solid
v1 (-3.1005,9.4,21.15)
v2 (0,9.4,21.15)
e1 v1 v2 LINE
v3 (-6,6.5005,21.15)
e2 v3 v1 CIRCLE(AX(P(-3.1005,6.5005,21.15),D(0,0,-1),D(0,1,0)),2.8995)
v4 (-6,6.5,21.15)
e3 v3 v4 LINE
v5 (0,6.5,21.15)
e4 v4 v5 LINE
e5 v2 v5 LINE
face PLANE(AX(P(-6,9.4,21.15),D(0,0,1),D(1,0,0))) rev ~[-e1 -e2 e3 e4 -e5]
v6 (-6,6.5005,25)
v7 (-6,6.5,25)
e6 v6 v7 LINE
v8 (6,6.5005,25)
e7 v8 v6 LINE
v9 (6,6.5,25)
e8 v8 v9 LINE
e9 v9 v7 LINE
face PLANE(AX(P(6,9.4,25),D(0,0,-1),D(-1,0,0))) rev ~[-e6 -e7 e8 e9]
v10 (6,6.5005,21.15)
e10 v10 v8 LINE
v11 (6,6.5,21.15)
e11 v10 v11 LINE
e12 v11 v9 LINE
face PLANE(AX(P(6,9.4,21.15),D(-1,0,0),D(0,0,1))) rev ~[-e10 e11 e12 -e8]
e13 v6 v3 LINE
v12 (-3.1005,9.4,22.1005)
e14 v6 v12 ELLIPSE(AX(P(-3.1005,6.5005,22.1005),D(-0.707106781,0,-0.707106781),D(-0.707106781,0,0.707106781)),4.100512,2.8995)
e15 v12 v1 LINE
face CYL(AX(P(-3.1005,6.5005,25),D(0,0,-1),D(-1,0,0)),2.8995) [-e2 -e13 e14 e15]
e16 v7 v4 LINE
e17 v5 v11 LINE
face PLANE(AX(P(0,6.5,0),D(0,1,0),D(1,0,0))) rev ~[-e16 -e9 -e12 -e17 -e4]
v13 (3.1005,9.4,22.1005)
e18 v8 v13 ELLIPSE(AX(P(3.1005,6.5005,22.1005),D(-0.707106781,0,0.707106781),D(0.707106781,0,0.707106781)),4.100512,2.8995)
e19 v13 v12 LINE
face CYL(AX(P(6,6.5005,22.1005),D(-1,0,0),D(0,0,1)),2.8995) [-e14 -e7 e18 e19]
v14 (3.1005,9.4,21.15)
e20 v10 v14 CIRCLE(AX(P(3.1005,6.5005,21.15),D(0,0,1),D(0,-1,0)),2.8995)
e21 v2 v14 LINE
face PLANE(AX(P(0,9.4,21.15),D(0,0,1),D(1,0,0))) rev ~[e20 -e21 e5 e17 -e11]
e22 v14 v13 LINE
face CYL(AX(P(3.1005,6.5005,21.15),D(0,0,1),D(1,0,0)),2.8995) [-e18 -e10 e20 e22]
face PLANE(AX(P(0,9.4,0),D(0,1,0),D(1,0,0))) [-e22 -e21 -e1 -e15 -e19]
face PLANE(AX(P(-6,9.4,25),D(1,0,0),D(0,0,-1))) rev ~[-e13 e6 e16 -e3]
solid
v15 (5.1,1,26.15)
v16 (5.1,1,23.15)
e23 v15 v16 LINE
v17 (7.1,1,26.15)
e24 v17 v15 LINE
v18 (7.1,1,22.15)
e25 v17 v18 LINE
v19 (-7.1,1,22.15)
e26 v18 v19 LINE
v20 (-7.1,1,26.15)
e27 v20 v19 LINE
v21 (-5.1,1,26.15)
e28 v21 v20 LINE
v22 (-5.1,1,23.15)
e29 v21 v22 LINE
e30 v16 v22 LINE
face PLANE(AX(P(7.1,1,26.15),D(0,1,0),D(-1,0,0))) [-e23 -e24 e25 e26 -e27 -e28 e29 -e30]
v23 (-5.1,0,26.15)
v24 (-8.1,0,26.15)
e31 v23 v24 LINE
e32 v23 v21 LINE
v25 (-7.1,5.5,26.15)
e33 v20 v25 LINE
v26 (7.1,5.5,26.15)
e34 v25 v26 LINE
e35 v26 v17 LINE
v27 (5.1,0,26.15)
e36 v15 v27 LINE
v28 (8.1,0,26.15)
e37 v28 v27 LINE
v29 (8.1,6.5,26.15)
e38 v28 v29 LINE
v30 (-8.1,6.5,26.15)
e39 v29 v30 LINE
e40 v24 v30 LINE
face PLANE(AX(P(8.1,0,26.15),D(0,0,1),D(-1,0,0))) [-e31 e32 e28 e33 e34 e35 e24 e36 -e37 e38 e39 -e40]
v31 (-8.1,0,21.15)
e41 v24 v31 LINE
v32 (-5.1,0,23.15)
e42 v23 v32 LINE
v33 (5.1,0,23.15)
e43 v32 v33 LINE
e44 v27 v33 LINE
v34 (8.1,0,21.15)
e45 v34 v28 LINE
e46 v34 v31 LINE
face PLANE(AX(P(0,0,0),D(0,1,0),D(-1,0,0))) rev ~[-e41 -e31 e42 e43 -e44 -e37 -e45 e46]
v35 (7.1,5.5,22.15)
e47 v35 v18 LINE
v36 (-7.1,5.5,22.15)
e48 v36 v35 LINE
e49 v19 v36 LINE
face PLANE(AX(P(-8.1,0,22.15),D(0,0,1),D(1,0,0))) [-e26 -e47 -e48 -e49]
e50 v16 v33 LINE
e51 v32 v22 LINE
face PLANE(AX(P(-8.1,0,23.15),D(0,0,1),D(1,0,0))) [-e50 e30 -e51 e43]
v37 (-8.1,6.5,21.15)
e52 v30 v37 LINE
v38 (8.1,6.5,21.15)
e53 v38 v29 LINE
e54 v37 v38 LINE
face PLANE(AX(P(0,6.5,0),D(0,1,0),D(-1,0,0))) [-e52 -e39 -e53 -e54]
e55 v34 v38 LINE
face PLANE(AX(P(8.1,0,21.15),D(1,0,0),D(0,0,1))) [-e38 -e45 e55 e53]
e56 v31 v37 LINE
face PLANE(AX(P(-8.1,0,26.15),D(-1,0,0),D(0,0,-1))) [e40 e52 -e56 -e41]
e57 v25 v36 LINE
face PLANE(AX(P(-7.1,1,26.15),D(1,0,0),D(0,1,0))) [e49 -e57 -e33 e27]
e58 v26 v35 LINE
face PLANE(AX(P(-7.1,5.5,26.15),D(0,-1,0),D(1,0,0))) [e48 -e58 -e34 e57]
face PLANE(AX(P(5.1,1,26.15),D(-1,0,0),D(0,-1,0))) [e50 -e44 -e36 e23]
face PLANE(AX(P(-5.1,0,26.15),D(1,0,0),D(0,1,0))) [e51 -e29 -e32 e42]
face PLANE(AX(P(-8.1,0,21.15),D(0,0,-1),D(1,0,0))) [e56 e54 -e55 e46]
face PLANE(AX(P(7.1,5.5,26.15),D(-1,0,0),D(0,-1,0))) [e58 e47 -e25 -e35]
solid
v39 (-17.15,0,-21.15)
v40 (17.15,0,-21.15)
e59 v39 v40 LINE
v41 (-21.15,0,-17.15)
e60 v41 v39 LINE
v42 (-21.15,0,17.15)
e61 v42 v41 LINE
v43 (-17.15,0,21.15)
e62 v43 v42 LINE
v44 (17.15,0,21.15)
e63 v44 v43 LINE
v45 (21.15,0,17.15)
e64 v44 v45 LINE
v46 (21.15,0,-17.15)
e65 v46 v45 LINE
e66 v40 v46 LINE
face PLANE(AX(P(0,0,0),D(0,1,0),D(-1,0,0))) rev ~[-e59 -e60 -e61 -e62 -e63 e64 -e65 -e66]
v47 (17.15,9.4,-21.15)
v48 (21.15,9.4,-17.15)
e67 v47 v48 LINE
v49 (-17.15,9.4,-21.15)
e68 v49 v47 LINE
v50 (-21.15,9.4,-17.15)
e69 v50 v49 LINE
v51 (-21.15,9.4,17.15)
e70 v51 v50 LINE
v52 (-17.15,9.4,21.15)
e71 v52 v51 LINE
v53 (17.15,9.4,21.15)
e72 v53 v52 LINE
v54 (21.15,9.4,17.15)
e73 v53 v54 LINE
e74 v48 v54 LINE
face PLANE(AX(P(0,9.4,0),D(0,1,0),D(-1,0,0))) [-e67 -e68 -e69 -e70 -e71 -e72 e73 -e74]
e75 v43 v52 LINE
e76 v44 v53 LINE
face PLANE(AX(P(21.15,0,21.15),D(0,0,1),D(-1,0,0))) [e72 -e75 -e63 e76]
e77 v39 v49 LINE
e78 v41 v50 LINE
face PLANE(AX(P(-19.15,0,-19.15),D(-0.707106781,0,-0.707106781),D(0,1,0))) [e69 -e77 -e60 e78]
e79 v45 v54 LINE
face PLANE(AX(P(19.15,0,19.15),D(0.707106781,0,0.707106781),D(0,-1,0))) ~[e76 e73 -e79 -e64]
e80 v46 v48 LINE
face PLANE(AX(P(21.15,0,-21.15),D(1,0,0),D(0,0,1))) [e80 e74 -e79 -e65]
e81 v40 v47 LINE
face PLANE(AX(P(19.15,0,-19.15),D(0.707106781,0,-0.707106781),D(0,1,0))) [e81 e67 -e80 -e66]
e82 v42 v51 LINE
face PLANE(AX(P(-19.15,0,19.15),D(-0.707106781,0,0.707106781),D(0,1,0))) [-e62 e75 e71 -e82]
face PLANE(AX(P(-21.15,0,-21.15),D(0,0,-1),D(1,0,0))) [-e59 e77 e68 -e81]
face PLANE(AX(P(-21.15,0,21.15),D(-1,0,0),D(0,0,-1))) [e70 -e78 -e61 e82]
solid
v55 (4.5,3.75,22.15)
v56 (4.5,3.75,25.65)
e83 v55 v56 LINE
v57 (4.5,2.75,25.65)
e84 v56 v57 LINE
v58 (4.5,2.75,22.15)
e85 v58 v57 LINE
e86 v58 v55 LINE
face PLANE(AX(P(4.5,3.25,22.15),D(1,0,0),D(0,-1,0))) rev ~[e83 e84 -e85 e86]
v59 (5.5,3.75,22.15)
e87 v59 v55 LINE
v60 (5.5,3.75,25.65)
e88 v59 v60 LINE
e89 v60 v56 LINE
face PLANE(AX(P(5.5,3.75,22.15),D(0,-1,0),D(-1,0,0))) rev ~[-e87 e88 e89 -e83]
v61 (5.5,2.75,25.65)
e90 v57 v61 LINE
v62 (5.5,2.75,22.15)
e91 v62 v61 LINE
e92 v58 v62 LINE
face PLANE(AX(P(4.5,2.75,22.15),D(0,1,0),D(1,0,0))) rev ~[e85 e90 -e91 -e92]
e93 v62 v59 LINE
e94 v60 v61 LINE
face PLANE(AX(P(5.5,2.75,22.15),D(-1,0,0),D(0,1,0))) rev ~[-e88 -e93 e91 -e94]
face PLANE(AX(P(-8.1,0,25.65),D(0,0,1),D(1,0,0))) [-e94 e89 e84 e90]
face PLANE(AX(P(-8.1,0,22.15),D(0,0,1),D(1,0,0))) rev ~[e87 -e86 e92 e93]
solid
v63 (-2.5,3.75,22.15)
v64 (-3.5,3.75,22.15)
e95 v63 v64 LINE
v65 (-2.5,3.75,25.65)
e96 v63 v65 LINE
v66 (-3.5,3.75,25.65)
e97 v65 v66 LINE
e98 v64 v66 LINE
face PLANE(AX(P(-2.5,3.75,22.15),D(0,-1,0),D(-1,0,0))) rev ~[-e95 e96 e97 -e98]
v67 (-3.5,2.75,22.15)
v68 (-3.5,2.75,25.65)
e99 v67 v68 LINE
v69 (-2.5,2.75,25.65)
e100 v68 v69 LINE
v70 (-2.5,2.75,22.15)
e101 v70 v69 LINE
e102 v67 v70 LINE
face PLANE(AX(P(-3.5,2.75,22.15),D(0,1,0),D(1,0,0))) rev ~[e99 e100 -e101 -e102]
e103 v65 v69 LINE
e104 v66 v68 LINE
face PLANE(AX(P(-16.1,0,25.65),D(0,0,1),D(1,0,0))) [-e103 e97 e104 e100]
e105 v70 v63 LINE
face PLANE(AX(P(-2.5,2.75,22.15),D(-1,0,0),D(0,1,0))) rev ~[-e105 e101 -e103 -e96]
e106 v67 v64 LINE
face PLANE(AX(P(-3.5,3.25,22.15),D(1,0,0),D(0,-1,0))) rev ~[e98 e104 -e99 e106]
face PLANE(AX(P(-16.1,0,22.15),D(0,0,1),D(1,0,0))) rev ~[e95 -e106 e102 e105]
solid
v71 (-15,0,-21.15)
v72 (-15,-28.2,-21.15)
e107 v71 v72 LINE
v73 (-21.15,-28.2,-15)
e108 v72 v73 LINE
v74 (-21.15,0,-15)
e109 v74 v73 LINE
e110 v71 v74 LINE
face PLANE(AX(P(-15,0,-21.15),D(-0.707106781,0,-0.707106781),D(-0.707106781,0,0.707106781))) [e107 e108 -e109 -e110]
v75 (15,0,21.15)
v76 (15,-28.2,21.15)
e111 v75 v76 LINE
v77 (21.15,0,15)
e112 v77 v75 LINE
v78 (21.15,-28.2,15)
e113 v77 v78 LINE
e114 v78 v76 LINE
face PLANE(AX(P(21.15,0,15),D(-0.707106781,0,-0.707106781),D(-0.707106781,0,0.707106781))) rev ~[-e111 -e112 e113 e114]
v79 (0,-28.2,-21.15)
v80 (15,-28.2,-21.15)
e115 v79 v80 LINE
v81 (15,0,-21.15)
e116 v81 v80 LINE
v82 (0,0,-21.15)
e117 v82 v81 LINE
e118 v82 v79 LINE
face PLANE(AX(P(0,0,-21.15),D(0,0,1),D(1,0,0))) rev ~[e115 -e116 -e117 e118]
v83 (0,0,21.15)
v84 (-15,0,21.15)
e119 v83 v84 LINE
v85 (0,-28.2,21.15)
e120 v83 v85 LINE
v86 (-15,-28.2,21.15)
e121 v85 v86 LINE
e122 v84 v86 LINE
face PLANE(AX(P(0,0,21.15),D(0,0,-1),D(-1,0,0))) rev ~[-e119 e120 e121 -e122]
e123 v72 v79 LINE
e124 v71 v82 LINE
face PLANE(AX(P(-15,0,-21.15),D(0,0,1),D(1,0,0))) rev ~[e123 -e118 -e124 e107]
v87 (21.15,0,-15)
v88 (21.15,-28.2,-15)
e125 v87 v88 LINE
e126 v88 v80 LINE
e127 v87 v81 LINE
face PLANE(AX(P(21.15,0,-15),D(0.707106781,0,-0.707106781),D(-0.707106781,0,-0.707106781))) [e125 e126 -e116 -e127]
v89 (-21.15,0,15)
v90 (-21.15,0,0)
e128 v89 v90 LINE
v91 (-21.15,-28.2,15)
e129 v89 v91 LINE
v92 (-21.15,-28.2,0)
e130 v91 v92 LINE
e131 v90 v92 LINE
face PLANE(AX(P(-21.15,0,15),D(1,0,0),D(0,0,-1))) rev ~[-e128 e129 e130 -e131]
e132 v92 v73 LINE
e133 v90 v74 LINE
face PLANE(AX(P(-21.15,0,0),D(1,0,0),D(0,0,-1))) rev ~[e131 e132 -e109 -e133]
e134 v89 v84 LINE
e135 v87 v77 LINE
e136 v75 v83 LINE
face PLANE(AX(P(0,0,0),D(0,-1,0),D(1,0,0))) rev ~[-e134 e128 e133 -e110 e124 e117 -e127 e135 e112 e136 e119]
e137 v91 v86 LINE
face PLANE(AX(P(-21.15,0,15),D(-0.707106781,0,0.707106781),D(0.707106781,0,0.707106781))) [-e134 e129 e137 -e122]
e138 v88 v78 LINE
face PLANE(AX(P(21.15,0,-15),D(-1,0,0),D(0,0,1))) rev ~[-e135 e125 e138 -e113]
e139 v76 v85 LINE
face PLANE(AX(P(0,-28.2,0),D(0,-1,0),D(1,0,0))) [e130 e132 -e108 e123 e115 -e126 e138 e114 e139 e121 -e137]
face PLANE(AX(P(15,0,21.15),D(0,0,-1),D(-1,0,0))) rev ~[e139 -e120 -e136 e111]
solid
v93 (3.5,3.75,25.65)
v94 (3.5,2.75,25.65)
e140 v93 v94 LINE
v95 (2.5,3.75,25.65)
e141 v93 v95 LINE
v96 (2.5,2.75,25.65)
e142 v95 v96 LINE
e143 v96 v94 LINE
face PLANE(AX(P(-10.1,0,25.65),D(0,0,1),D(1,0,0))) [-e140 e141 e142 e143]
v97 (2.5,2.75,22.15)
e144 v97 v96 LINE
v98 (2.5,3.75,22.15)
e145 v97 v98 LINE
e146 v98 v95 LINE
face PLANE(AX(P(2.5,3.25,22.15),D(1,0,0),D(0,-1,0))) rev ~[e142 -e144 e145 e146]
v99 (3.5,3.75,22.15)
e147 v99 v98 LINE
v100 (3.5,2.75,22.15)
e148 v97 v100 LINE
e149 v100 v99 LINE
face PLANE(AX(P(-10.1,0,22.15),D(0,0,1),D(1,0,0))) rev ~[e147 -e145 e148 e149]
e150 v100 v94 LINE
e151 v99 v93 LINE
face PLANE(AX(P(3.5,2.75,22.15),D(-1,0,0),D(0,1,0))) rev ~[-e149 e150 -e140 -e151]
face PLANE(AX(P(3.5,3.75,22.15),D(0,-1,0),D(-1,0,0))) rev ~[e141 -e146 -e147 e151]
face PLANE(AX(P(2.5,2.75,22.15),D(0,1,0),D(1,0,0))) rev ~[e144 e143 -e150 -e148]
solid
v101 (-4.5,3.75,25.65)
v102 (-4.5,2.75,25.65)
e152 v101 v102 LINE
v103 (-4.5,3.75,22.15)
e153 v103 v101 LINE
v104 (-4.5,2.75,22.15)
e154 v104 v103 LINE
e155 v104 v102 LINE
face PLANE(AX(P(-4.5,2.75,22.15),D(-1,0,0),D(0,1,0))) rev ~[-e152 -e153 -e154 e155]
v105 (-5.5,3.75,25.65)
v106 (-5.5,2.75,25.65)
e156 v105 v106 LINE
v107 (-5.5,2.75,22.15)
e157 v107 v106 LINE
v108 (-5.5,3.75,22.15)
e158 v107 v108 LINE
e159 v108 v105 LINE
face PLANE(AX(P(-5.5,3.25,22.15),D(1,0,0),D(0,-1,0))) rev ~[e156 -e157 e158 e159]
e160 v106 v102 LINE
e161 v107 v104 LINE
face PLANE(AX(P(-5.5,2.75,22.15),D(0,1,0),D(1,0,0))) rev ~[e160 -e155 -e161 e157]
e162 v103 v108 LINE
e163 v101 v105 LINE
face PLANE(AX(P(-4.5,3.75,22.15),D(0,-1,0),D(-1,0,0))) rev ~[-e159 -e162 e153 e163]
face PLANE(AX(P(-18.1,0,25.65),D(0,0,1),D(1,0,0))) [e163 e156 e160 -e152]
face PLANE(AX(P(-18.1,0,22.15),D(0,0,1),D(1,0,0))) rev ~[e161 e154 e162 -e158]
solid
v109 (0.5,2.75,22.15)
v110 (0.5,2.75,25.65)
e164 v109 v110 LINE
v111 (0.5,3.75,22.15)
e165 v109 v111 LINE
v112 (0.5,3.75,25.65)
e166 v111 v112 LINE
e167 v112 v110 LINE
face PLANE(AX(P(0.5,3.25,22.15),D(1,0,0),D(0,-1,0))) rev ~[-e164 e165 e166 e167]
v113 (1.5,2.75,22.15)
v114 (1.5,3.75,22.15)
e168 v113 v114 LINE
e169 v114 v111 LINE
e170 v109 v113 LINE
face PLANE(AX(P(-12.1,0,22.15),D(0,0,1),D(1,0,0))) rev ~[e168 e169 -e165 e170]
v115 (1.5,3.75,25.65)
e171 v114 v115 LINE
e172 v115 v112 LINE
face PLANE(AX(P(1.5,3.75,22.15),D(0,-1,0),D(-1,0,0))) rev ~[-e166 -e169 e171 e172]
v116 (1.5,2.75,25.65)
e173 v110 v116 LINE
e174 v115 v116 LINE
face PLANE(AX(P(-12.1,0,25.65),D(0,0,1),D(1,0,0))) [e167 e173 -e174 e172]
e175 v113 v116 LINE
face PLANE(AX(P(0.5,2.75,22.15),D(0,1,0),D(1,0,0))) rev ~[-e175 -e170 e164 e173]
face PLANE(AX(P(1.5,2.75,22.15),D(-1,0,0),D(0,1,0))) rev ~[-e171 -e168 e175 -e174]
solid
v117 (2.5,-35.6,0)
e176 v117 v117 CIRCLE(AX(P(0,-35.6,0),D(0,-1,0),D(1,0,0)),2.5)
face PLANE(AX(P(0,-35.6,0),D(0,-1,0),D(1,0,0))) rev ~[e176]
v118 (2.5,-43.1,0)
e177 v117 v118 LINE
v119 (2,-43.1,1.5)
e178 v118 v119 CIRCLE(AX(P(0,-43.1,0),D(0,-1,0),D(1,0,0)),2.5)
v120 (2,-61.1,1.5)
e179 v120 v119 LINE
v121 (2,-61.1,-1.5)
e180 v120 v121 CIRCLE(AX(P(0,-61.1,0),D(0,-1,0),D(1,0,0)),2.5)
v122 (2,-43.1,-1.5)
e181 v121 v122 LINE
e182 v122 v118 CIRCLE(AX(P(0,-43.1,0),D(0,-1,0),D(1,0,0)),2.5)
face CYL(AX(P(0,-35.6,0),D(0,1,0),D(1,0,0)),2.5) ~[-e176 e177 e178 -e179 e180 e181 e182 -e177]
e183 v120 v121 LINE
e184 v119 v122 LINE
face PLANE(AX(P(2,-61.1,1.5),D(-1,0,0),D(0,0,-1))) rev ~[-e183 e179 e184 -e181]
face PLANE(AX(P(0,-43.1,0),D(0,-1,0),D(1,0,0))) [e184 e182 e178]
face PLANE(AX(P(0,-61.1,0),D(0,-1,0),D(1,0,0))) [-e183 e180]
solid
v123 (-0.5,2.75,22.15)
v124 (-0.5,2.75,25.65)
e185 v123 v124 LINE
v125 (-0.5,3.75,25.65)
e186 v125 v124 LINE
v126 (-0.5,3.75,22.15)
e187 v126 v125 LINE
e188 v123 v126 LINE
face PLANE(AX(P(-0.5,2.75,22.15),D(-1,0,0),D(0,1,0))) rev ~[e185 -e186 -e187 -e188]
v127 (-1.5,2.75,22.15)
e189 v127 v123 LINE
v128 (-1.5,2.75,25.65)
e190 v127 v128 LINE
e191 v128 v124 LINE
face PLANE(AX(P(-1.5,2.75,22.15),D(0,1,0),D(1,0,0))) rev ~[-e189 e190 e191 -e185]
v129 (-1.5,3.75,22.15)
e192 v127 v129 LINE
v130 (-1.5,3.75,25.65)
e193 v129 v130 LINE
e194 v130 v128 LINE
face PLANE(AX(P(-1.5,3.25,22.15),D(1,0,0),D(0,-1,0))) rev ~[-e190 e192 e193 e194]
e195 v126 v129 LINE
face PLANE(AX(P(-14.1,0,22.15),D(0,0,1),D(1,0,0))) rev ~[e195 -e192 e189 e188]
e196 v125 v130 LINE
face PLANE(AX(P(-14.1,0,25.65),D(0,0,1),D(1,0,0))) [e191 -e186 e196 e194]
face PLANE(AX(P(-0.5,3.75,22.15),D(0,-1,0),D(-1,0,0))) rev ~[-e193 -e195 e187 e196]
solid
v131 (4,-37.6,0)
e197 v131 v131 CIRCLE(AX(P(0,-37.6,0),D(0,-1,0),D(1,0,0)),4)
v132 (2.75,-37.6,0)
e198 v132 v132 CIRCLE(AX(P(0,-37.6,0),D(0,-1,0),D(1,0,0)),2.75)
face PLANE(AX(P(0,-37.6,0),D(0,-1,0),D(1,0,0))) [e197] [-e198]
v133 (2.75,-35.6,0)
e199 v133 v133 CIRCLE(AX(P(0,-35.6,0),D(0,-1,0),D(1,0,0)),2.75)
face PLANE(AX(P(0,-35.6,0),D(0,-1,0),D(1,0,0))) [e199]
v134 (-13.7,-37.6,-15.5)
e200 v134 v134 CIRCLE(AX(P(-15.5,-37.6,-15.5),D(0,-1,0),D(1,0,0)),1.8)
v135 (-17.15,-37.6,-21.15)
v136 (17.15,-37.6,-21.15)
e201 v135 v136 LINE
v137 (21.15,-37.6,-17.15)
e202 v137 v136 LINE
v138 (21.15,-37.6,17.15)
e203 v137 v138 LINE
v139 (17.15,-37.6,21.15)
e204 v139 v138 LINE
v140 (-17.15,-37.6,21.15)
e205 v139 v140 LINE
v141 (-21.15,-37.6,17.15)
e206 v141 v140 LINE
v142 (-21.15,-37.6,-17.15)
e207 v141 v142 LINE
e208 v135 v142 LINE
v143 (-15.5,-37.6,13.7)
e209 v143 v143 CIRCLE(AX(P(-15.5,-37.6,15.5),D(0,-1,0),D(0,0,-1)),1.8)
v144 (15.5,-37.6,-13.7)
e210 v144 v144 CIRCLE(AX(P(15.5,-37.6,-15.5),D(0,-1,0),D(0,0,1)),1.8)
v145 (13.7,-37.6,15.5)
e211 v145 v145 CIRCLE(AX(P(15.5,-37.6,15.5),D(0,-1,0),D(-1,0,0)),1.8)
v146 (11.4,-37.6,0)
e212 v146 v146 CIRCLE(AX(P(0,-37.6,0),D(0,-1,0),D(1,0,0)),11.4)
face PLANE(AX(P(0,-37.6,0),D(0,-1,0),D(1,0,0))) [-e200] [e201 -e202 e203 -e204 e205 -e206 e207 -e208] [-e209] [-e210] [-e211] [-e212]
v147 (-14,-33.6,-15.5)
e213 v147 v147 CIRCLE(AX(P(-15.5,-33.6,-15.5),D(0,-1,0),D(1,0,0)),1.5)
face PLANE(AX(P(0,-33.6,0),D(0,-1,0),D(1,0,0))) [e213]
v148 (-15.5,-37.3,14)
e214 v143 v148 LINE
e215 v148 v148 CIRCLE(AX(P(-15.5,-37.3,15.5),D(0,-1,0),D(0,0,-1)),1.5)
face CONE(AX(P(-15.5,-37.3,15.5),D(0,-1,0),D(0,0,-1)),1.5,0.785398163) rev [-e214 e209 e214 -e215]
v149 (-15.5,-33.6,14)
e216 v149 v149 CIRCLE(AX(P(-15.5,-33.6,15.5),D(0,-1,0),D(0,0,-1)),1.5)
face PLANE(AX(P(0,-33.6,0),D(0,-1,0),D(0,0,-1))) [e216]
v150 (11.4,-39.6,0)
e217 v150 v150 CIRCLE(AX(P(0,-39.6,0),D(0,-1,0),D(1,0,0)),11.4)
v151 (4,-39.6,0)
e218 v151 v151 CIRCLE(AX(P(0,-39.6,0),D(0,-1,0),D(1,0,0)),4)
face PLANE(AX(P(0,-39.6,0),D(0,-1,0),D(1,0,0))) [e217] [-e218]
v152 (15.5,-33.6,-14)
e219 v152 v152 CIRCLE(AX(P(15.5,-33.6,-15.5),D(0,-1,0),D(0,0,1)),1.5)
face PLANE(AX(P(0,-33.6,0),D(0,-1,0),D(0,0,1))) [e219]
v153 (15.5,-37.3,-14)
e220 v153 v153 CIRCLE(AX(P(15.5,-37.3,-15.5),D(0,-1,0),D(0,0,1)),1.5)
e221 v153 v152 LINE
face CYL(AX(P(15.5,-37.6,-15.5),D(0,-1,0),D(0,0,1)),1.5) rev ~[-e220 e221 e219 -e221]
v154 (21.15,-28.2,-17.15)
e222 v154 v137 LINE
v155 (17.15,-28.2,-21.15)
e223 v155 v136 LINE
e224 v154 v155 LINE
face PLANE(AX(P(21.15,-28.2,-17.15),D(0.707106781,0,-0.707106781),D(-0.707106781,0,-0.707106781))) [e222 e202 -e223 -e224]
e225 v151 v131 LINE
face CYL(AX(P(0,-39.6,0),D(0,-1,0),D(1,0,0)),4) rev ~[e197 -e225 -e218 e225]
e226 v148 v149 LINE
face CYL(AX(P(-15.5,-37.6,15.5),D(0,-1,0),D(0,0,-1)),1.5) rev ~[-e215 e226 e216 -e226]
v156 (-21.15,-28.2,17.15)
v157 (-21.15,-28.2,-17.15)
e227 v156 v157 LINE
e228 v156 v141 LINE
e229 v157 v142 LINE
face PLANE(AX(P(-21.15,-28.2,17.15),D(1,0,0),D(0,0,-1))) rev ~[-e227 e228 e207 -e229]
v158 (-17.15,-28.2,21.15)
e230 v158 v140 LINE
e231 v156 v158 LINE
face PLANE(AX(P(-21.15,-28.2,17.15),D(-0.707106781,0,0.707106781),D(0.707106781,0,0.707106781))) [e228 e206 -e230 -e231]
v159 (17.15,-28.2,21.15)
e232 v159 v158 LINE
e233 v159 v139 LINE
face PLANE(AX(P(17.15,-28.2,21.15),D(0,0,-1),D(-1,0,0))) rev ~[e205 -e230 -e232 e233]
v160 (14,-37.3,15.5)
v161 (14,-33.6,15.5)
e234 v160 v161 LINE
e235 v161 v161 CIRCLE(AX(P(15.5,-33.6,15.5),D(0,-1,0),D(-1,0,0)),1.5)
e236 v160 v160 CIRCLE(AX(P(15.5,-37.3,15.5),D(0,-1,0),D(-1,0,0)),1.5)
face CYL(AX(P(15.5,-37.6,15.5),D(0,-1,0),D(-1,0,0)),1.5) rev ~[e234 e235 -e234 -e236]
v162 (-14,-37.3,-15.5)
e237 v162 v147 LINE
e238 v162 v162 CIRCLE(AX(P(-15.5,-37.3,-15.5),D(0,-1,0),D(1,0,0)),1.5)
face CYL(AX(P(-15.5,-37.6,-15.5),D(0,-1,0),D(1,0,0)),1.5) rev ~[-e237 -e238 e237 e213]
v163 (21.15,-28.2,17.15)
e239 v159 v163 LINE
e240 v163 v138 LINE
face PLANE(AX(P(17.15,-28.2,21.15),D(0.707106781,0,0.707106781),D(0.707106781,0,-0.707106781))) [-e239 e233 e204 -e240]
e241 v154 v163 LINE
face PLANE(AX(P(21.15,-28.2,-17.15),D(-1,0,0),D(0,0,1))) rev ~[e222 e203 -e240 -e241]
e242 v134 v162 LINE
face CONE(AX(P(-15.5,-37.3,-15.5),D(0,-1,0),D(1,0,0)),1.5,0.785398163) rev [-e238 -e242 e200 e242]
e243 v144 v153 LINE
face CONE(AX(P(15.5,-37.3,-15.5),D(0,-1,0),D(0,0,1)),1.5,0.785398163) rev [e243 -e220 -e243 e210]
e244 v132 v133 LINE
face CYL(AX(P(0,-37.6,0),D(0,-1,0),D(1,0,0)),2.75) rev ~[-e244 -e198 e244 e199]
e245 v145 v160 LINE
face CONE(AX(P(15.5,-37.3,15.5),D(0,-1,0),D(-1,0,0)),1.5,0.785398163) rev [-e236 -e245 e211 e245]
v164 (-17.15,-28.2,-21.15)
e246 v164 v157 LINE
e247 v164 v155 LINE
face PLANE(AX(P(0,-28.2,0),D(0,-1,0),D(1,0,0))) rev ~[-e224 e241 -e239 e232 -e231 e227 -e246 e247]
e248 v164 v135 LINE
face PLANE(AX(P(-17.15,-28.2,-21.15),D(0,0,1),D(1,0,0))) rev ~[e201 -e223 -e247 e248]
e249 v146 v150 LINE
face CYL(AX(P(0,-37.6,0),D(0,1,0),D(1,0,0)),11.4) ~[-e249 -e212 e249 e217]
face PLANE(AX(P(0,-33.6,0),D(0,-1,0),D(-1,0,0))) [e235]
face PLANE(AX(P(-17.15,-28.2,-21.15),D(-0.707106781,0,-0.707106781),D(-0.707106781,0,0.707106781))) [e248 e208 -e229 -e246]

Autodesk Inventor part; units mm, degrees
ref_plane "YZ Plane" through (0, 0, 0) normal (1, 0, 0) x (0, 1, 0)
ref_plane "XZ Plane" through (0, 0, 0) normal (0, 1, 0) x (-1, 0, 0)
ref_plane "XY Plane" through (0, 0, 0) normal (0, 0, 1) x (1, 0, 0)
sketch "Szkic1" plane through (0, 0, 0) normal (0, 1, 0) x (-1, 0, 0)
  line L0 (-21.15, 21.15) -> (21.15, 21.15)
  line L1 (21.15, 21.15) -> (21.15, -21.15)
  line L2 (21.15, -21.15) -> (-21.15, -21.15)
  line L3 (-21.15, -21.15) -> (-21.15, 21.15)
  line L4 (-21.15, 21.15) -> (21.15, -21.15) construction
  line L5 (21.15, 21.15) -> (-21.15, -21.15) construction
  point P0 (0, 0)
  dimension "d0" = 42.3
  dimension "d1" = 42.3
extrude "Wyciągnięcie proste1" add sketch "Szkic1" along normal blind 9.4
chamfer "Faza1" distance 4 angle 45 4 edges at (21.15, 4.7, 21.15) (-21.15, 4.7, 21.15) (-21.15, 4.7, -21.15) (21.15, 4.7, -21.15)
sketch "Szkic2" plane through (0, 0, 0) normal (0, -1, 0) x (1, 0, 0)
  line L0 (21.15, -17.15) -> (17.15, -21.15) projected
  line L1 (21.15, -17.15) -> (21.15, 17.15) projected
  line L2 (17.15, 21.15) -> (21.15, 17.15) projected
  line L3 (17.15, 21.15) -> (-17.15, 21.15) projected
  line L4 (-21.15, 17.15) -> (-17.15, 21.15) projected
  line L5 (-21.15, 17.15) -> (-21.15, -17.15) projected
  line L6 (-17.15, -21.15) -> (-21.15, -17.15) projected
  line L7 (-17.15, -21.15) -> (17.15, -21.15) projected
  line L8 (21.15, -17.15) -> (21.15, 17.15) projected
  line L9 (21.15, 15) -> (21.15, -15)
  line L10 (17.15, -21.15) -> (-17.15, -21.15) projected
  line L11 (0, -21.15) -> (15, -21.15)
  line L12 (0, -21.15) -> (-15, -21.15)
  line L13 (-21.15, -17.15) -> (-21.15, 17.15) projected
  line L14 (-21.15, 0) -> (-21.15, -15)
  line L15 (-21.15, 0) -> (-21.15, 15)
  line L16 (-17.15, 21.15) -> (17.15, 21.15) projected
  line L17 (0, 21.15) -> (-15, 21.15)
  line L18 (0, 21.15) -> (15, 21.15)
  line L19 (21.15, 15) -> (15, 21.15)
  line L20 (21.15, -15) -> (15, -21.15)
  line L21 (-15, -21.15) -> (-21.15, -15)
  line L22 (-21.15, 15) -> (-15, 21.15)
  point P0 (0, 0)
extrude "Wyciągnięcie proste2" add sketch "Szkic2" along normal blind 28.2 separate body contours L20 L7 L21 L5 L22 L3 L19 L1
sketch "Szkic3" plane through (0, -28.2, 0) normal (0, -1, 0) x (1, 0, 0)
  line L0 (21.15, -17.15) -> (17.15, -21.15) projected
  line L1 (21.15, -17.15) -> (21.15, 17.15) projected
  line L2 (17.15, 21.15) -> (21.15, 17.15) projected
  line L3 (17.15, 21.15) -> (-17.15, 21.15) projected
  line L4 (-21.15, 17.15) -> (-17.15, 21.15) projected
  line L5 (-21.15, 17.15) -> (-21.15, -17.15) projected
  line L6 (-17.15, -21.15) -> (-21.15, -17.15) projected
  line L7 (-17.15, -21.15) -> (17.15, -21.15) projected
  point P0 (0, 0)
extrude "Wyciągnięcie proste3" add sketch "Szkic3" along normal blind 9.4 separate body
sketch "Szkic4" plane through (0, -37.6, 0) normal (0, -1, 0) x (1, 0, 0)
  circle A0 centre (0, 0) radius 11.4
  dimension "d11" = 22.8
extrude "Wyciągnięcie proste4" add sketch "Szkic4" along normal blind 2 bodies 3
sketch "Szkic5" plane through (0, -39.6, 0) normal (0, -1, 0) x (1, 0, 0)
  circle A0 centre (0, 0) radius 4
  dimension "d14" = 8
extrude "Wyciągnięcie proste5" cut sketch "Szkic5" against normal blind 2 bodies 3
sketch "Szkic6" plane through (0, -37.6, 0) normal (0, -1, 0) x (1, 0, 0)
  circle A0 centre (0, 0) radius 2.75
  dimension "d17" = 5.5
extrude "Wyciągnięcie proste6" cut sketch "Szkic6" against normal blind 2 bodies 3
sketch "Szkic7" plane through (0, -35.6, 0) normal (0, -1, 0) x (1, 0, 0)
  circle A0 centre (0, 0) radius 2.5
  dimension "d20" = 5
extrude "Wyciągnięcie proste7" add sketch "Szkic7" along normal blind 25.5 separate body
sketch "Szkic8" plane through (0, -61.1, 0) normal (0, -1, 0) x (1, 0, 0)
  circle A0 centre (0, 0) radius 2.5 projected
  line L0 (2, 1.5) -> (2, -1.5)
  dimension "d23" = 4.5
extrude "Wyciągnięcie proste8" cut sketch "Szkic8" against normal blind 18 contours A0 L0 picked at (2.0912, -0.3466) bodies 4
sketch "Szkic9" plane through (0, -37.6, 0) normal (0, -1, 0) x (1, 0, 0)
  circle A0 centre (-15.5, -15.5) radius 1.5
  arc A1 (2, 1.5) -> (2, -1.5) centre (0, 0) ccw projected
  dimension "d26" = 3
  dimension "d27" = 15.5
  dimension "d28" = 15.5
extrude "Wyciągnięcie proste9" cut sketch "Szkic9" against normal blind 4 bodies 3
pattern_circular "Szyk kołowy1" count 4 over 360 about axis through (0, -35.6, 0) along (0, -1, 0) of "Wyciągnięcie proste9" bodies 3
thread "Gwint1" size "M3x0.5" class "6H" standard "ANSI Metric M Profile" full length
thread "Gwint2" size "M3x0.5" class "6H" standard "ANSI Metric M Profile" full length
thread "Gwint3" size "M3x0.5" class "6H" standard "ANSI Metric M Profile" full length
thread "Gwint4" size "M3x0.5" class "6H" standard "ANSI Metric M Profile" full length
chamfer "Faza2" distance 0.3 angle 45 4 edges at (-17, -37.6, -15.5) (-15.5, -37.6, 17) (15.5, -37.6, -17) (17, -37.6, 15.5)
sketch "Szkic10" plane through (0, 0, 0) normal (0, 1, 0) x (-1, 0, 0)
  line L0 (17.15, 21.15) -> (-17.15, 21.15) projected
  line L1 (0, 21.15) -> (-8.1, 21.15)
  line L2 (-8.1, 21.15) -> (-8.1, 26.15)
  line L3 (-8.1, 26.15) -> (8.1, 26.15)
  line L4 (8.1, 26.15) -> (8.1, 21.15)
  line L5 (0, 21.15) -> (8.1, 21.15)
  point P0 (0, 0)
  dimension "d45" = 8.1
  dimension "d46" = 5
  dimension "d47" = 16.2
extrude "Wyciągnięcie proste10" add sketch "Szkic10" along normal blind 6.5 separate body
sketch "Szkic11" plane through (0, 9.4, 0) normal (0, 1, 0) x (1, 0, 0)
  line L0 (-17.15, -21.15) -> (17.15, -21.15) projected
  line L1 (0, -21.15) -> (6, -21.15)
  line L2 (6, -21.15) -> (6, -25)
  line L3 (6, -25) -> (-6, -25)
  line L4 (-6, -25) -> (-6, -21.15)
  line L5 (-6, -21.15) -> (0, -21.15)
  point P0 (0, 0)
  dimension "d50" = 3.85
  dimension "d51" = 12
  dimension "d52" = 11.15
extrude "Wyciągnięcie proste11" add sketch "Szkic11" against normal blind 2.9 separate body
fillet "Zaokrąglenie1" radius 2.9 3 edges at (6, 9.4, 23.075) (0, 9.4, 25) (-6, 9.4, 23.075)
sketch "Szkic12" plane through (-8.1, 0, 26.15) normal (0, 0, 1) x (1, 0, 0)
  line L0 (0, 0) -> (16.2, 0) projected
  line L1 (16.2, 0) -> (16.2, 6.5) projected
  line L2 (0, 6.5) -> (16.2, 6.5) projected
  line L3 (0, 0) -> (0, 6.5) projected
  line L4 (15.2, 1) -> (1, 1)
  line L5 (1, 1) -> (1, 5.5)
  line L6 (1, 5.5) -> (15.2, 5.5)
  line L7 (15.2, 5.5) -> (15.2, 1)
  point P0 (8.1, 0)
  dimension "d56" = 1
extrude "Wyciągnięcie proste12" cut sketch "Szkic12" against normal blind 4 contours L4 L5 L6 L7 bodies 5
sketch "Szkic13" plane through (-8.1, 0, 26.15) normal (0, 0, 1) x (1, 0, 0)
  line L0 (0, 0) -> (16.2, 0) projected
  line L1 (-6.9, 0) -> (23.1, 0) projected
  line L2 (15.2, 1) -> (1, 1) projected
  line L3 (13.2, 0) -> (3, 0)
  line L4 (3, 0) -> (3, 1)
  line L5 (3, 1) -> (13.2, 1)
  line L6 (13.2, 1) -> (13.2, 0)
  line L7 (15.2, 5.5) -> (15.2, 1) projected
  line L8 (1, 1) -> (1, 5.5) projected
  point P0 (8.1, 0)
  dimension "d59" = 2
  dimension "d60" = 2
extrude "Wyciągnięcie proste13" cut sketch "Szkic13" against normal blind 3 bodies 5
sketch "Szkic14" plane through (-8.1, 0, 22.15) normal (0, 0, 1) x (1, 0, 0)
  line L0 (15.2, 1) -> (13.2, 1) projected
  line L1 (15.2, 5.5) -> (15.2, 1) projected
  line L2 (15.2, 1) -> (1, 1) projected
  line L3 (15.2, 5.5) -> (15.2, 1) projected
  line L4 (1, 5.5) -> (15.2, 5.5) projected
  line L5 (1, 1) -> (1, 5.5) projected
  line L6 (15.2, 3.25) -> (1, 3.25)
  line L7 (13.6, 3.75) -> (12.6, 3.75)
  line L8 (12.6, 3.75) -> (12.6, 2.75)
  line L9 (12.6, 2.75) -> (13.6, 2.75)
  line L10 (13.6, 2.75) -> (13.6, 3.75)
  line L11 (13.6, 3.75) -> (12.6, 2.75) construction
  line L12 (12.6, 3.75) -> (13.6, 2.75) construction
  point P0 (8.1, 0)
  point P1 (13.1, 3.25)
  dimension "d63" = 1
  dimension "d64" = 2.1
  dimension "d65" = 1
extrude "Wyciągnięcie proste14" add sketch "Szkic14" along normal blind 3.5 separate body contours L10 L9 L8 L6 | L6 L8 L7 L10
pattern_linear "Szyk prostokątny1" count 6 spacing 2 along (-1, 0, 0) of "Wyciągnięcie proste14" bodies 7
properties part number "Nema_17"
